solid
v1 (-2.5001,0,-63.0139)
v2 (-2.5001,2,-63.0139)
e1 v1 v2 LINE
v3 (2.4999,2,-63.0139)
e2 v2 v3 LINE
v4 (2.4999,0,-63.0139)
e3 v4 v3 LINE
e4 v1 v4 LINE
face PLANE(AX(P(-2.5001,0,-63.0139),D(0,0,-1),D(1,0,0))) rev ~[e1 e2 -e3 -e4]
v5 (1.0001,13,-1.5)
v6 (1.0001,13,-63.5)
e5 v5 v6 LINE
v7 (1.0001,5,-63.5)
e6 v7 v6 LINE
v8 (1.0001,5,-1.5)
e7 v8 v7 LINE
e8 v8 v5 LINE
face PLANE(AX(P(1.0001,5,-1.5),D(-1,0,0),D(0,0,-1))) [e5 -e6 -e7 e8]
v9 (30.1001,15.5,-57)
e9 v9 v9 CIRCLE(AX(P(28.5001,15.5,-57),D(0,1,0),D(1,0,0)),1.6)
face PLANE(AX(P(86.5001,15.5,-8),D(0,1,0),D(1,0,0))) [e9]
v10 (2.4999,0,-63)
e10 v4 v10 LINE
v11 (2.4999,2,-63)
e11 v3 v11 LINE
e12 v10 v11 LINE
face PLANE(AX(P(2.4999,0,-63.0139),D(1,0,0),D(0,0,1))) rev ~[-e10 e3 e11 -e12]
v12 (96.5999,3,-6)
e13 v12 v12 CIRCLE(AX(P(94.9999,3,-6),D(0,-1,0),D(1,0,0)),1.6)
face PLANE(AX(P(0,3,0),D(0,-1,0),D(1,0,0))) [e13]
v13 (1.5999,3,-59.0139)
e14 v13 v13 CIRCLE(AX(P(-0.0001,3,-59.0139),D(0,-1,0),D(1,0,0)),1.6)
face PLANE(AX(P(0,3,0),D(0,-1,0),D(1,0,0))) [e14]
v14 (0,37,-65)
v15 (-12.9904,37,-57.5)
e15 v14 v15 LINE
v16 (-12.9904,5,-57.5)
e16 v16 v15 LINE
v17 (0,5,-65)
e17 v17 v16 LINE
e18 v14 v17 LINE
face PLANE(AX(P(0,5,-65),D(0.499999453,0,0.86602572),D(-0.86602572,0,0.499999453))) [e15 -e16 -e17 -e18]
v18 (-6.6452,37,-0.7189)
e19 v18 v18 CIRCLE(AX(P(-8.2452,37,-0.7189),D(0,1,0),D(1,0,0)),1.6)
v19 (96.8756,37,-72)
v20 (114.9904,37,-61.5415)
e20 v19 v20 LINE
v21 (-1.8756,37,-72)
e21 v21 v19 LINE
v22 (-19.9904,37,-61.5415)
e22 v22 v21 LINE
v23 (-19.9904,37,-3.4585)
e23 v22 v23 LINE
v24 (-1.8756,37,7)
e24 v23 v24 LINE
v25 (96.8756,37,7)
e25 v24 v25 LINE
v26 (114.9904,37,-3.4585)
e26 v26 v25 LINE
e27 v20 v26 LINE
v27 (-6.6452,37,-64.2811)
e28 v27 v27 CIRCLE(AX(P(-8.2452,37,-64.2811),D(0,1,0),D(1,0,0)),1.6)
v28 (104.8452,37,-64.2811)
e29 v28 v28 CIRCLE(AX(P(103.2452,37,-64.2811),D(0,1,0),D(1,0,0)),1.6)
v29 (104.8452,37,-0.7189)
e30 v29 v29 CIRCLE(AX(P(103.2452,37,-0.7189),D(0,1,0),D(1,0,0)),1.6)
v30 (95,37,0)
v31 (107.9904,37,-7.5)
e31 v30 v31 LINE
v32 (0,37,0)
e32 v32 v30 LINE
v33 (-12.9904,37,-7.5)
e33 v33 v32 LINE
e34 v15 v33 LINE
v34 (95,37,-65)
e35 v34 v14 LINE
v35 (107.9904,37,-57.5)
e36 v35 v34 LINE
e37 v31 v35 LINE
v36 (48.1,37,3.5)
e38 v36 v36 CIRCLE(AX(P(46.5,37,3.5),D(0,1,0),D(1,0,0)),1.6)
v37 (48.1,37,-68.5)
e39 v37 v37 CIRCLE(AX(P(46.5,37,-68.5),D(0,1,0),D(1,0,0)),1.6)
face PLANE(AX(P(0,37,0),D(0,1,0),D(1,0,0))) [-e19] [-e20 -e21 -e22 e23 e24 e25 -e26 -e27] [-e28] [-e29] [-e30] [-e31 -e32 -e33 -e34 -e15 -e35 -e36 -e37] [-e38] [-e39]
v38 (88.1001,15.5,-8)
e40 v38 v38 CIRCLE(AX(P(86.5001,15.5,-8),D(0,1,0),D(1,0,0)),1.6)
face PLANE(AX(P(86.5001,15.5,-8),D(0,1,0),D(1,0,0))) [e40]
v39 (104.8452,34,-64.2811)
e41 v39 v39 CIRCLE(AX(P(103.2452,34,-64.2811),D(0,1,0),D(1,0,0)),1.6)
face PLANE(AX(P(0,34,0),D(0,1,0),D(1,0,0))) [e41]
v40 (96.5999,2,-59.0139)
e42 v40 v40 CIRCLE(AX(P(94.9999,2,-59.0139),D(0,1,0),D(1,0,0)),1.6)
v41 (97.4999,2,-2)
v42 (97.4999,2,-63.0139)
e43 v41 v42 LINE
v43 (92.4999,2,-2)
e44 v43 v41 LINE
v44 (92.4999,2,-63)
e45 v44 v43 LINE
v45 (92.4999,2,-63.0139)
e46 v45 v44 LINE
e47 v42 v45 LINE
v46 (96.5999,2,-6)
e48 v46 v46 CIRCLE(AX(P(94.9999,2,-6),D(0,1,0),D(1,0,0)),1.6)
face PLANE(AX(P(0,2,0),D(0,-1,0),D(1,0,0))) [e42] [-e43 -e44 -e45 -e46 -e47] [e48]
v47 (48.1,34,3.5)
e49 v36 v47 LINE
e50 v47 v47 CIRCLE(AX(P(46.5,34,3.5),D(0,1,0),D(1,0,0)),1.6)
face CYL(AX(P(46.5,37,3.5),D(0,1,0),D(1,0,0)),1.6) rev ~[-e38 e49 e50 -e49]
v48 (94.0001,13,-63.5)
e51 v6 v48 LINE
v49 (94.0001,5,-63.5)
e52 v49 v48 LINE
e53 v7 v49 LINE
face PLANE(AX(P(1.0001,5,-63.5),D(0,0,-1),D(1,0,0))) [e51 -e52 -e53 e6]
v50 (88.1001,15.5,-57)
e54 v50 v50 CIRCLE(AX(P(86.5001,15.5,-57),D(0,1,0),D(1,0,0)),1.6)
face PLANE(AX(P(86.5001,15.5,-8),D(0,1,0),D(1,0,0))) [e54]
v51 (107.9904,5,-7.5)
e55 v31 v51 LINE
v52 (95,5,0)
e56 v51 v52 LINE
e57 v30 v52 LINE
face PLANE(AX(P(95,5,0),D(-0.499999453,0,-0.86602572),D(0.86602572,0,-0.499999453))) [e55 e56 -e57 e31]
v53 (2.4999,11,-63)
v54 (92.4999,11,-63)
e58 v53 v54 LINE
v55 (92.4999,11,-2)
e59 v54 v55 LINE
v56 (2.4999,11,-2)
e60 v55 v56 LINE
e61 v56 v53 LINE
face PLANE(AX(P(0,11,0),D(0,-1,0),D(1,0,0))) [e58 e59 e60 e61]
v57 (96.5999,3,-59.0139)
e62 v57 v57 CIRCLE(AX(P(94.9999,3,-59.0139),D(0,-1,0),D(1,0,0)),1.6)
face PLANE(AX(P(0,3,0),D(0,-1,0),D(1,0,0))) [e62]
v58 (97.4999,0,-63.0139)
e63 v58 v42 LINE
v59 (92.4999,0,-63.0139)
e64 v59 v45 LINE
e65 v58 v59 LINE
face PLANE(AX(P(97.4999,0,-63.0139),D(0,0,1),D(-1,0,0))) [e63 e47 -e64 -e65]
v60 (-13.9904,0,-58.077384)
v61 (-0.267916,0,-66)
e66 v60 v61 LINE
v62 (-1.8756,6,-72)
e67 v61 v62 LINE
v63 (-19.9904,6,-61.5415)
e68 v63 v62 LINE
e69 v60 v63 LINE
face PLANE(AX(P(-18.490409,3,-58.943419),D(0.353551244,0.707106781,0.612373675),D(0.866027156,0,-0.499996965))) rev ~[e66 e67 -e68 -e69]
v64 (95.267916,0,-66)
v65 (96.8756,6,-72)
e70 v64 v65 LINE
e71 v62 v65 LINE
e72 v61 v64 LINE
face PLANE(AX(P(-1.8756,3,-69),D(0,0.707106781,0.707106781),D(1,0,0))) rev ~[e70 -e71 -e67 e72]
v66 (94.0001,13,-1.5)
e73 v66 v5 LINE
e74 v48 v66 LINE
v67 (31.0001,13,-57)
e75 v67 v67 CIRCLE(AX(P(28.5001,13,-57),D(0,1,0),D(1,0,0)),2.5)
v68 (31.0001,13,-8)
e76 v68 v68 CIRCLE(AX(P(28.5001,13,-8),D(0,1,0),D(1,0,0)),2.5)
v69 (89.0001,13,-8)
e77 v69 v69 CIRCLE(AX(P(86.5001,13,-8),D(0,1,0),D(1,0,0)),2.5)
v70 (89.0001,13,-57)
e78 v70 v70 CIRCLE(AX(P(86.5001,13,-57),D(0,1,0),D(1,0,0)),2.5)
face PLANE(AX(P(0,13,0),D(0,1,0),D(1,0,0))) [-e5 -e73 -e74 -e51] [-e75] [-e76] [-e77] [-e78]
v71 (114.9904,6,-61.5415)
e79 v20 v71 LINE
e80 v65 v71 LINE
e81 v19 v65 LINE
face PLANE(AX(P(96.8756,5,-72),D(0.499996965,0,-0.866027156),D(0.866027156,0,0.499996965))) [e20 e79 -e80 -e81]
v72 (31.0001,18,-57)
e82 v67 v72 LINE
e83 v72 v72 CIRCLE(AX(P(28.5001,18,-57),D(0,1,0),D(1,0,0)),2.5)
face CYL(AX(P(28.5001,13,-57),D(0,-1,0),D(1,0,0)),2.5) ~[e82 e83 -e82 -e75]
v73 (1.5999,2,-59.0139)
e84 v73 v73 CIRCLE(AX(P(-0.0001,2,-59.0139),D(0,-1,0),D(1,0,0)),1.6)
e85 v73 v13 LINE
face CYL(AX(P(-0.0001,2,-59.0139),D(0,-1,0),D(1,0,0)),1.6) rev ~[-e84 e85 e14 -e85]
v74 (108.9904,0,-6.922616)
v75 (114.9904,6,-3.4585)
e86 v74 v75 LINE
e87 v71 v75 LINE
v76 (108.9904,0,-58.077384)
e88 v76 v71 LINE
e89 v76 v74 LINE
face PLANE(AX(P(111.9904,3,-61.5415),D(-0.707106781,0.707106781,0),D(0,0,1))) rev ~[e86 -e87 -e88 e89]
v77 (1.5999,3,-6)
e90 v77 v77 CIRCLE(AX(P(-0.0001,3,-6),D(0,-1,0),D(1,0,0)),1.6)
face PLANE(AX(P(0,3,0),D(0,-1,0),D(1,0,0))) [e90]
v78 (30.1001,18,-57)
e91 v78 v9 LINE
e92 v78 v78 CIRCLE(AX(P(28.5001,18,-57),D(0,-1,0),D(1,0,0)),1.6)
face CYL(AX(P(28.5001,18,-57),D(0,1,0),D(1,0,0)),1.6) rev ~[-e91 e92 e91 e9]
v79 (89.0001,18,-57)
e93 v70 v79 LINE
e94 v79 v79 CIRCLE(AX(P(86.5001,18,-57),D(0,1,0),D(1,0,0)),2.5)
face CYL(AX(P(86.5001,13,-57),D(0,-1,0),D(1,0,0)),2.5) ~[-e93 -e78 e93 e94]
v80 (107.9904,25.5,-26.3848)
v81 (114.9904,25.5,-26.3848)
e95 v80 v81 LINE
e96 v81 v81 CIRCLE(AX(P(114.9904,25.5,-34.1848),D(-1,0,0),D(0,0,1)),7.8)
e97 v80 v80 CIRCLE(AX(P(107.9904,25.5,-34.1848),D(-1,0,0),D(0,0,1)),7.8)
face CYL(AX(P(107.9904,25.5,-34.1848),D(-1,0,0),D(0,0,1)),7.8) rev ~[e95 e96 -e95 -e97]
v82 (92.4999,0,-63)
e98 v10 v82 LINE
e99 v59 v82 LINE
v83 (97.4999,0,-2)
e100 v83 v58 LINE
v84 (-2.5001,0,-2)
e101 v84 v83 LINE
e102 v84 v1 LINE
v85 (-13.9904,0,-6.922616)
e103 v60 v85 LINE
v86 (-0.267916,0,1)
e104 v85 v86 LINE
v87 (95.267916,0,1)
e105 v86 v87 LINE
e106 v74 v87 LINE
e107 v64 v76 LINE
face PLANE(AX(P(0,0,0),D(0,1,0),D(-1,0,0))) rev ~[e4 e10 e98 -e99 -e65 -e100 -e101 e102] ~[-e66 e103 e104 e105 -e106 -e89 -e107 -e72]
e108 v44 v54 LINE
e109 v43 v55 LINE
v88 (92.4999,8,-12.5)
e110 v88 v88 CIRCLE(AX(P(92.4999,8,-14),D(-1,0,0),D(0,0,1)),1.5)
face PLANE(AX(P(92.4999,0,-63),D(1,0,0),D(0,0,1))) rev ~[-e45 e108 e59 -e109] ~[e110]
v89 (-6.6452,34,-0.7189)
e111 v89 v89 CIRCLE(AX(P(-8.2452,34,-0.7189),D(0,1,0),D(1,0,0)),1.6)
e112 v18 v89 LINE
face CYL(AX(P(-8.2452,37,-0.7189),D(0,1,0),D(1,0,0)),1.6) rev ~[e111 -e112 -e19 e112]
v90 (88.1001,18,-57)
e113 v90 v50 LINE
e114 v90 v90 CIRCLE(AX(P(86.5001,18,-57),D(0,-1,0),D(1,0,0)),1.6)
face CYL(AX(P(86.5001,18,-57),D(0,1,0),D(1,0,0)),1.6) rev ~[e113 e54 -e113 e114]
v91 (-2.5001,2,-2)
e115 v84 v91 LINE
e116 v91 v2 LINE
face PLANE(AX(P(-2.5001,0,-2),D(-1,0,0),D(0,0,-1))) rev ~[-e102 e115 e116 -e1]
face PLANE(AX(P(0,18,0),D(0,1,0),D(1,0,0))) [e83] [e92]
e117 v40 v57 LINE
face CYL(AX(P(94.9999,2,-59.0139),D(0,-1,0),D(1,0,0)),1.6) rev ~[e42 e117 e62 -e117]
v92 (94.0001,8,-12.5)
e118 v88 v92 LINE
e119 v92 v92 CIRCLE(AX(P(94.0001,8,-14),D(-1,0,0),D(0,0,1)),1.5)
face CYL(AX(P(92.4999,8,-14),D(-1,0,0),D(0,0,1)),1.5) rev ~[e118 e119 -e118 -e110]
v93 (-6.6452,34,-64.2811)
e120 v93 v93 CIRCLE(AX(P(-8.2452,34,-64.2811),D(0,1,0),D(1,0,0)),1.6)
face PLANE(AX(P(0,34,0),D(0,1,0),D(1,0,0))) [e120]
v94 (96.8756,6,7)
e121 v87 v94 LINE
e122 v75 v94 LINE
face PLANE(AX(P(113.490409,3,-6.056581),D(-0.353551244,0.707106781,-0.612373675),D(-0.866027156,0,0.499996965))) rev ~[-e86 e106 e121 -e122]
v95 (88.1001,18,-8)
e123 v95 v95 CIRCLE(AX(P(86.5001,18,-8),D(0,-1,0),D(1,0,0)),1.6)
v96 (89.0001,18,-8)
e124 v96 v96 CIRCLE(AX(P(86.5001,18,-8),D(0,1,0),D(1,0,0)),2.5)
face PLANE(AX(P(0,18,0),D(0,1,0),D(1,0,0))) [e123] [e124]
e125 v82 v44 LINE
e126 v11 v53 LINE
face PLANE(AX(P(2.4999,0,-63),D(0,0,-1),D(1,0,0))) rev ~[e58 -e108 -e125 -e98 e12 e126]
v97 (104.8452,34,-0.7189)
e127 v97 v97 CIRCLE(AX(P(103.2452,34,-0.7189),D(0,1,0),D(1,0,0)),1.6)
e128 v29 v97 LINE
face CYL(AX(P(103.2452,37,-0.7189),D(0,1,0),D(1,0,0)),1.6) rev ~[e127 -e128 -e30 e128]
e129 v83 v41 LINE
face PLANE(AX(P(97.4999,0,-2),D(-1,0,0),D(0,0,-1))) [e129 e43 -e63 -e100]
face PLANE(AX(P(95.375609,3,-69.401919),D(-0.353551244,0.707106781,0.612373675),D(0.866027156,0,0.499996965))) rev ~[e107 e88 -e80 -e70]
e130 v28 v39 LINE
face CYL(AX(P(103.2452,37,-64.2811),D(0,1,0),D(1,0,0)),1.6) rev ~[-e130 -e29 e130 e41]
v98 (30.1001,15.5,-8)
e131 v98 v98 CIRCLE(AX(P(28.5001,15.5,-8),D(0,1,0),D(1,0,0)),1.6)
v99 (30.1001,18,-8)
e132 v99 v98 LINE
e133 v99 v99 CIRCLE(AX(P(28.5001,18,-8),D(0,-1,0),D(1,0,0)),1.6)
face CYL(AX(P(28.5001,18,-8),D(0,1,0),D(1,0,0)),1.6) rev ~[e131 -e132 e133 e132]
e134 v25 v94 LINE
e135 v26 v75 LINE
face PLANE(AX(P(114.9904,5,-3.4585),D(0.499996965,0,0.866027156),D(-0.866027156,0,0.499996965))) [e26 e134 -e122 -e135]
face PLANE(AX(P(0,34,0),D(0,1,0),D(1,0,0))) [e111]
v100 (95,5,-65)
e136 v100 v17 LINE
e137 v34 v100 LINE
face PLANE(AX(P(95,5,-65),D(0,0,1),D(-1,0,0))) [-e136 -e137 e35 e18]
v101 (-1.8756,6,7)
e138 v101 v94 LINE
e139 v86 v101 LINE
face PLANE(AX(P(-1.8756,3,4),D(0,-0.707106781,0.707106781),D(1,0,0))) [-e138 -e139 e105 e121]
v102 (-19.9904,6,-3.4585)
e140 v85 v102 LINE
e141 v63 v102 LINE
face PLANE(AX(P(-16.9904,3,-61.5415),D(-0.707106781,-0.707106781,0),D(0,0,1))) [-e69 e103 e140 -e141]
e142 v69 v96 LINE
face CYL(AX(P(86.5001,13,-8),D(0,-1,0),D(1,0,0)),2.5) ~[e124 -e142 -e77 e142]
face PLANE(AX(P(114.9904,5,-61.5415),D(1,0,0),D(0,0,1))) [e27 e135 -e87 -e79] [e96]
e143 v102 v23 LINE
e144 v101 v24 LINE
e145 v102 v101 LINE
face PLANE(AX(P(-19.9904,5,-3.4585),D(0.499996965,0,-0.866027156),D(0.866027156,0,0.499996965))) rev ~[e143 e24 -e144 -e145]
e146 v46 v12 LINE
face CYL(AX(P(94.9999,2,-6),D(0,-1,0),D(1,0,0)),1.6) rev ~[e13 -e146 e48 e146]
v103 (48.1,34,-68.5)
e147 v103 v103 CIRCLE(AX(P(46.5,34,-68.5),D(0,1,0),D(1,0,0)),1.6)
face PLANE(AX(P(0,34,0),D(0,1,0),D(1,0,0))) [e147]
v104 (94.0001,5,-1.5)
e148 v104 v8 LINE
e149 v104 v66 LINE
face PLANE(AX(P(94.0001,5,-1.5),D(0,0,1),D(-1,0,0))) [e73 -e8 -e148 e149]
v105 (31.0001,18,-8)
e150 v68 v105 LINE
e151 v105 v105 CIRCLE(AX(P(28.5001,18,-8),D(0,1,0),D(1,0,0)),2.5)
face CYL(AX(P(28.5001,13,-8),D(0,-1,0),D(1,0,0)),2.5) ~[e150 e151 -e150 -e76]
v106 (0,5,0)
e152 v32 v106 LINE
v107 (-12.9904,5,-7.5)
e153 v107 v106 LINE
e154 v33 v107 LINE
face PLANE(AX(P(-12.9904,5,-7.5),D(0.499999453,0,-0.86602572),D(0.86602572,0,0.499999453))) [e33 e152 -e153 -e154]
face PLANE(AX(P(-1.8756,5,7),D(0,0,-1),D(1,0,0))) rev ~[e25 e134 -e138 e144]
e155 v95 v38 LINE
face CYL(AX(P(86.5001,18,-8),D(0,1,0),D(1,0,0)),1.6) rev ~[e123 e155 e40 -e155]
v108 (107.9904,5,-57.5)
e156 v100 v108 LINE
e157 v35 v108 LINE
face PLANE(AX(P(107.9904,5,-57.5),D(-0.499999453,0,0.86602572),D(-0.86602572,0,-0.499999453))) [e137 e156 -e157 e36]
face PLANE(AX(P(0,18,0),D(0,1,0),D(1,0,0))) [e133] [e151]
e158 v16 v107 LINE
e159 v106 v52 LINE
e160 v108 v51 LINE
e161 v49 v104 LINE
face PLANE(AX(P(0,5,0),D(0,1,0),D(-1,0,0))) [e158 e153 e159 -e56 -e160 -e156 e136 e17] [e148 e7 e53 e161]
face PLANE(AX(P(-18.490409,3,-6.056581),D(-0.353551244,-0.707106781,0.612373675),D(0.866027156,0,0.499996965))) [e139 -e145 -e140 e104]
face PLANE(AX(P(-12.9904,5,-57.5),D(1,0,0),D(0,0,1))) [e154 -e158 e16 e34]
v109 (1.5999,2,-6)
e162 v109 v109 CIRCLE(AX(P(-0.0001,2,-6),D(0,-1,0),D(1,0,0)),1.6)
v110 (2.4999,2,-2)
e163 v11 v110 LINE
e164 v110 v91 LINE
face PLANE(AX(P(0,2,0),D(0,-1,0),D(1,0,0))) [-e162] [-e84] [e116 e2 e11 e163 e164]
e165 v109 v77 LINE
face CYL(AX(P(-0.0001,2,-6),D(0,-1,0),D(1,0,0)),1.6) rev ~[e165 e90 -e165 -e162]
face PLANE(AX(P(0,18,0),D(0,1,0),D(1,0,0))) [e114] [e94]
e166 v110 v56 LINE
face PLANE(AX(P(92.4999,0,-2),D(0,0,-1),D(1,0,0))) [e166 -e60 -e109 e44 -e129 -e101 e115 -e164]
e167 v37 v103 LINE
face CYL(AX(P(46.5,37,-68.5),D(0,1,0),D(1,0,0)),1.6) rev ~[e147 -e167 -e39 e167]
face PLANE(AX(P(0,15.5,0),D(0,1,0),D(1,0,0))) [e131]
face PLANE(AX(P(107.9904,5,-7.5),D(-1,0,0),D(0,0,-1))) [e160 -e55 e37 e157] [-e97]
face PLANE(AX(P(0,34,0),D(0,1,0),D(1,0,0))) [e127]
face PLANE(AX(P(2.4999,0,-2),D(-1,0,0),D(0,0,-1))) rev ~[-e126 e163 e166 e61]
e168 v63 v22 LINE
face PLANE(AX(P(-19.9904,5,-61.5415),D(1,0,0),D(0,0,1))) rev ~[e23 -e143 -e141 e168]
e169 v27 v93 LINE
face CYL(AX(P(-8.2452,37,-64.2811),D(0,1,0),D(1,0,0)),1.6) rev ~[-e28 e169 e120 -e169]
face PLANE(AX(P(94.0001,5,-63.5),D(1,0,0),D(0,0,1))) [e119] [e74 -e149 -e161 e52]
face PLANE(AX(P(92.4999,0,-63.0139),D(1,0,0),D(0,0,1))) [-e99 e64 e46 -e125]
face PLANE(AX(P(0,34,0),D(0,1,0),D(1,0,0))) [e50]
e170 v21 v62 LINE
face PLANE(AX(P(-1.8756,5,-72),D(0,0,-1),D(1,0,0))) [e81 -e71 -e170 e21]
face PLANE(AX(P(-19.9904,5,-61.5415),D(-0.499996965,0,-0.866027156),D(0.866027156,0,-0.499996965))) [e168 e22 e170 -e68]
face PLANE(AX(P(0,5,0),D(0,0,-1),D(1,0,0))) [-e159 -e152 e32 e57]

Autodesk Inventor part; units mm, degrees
ref_plane "YZ Plane" through (0, 0, 0) normal (1, 0, 0) x (0, 1, 0)
ref_plane "XZ Plane" through (0, 0, 0) normal (0, 1, 0) x (-1, 0, 0)
sketch "Sketch1" plane through (0, 0, 0) normal (0, 1, 0) x (-1, 0, 0)
  line L0 (0, 0) -> (-95, 0)
  line L1 (-95, 0) -> (-95, -65)
  line L2 (-95, -65) -> (0, -65)
  line L3 (0, -65) -> (0, 0)
  line L4 (0, -65) -> (12.9904, -57.5)
  line L5 (12.9904, -57.5) -> (12.9904, -7.5)
  line L6 (12.9904, -7.5) -> (0, 0)
  line L7 (-95, -65) -> (-107.9904, -57.5)
  line L8 (-107.9904, -57.5) -> (-107.9904, -7.5)
  line L9 (-107.9904, -7.5) -> (-95, 0)
  dimension "d0" = 95
  dimension "d1" = 65
  dimension "d2" = 15
  dimension "d3" = 15
  dimension "d4" = 120
  dimension "d5" = 15
  dimension "d6" = 15
  dimension "d7" = 120
extrude "Extrusion1" add sketch "Sketch1" along normal blind 5
sketch "Sketch2" plane through (0, 5, 0) normal (0, 1, 0) x (1, 0, 0)
  line L0 (1.0001, 63.5) -> (94.0001, 63.5)
  line L1 (94.0001, 63.5) -> (94.0001, 1.5)
  line L2 (94.0001, 1.5) -> (1.0001, 1.5)
  line L3 (1.0001, 1.5) -> (1.0001, 63.5)
  line L4 (0, 0) -> (95, 0) projected
  line L5 (-12.9904, 57.5) -> (-12.9904, 7.5) projected
  dimension "d10" = 93
  dimension "d11" = 62
  dimension "d12" = 1.5
  dimension "d13" = 13.9905
extrude "Extrusion2" add sketch "Sketch2" along normal blind 8
sketch "Sketch4" plane through (0, 5, 0) normal (0, 1, 0) x (1, 0, 0)
  line L0 (-12.9904, 57.5) -> (-12.9904, 7.5) projected
  line L1 (-12.9904, 57.5) -> (-12.9904, 7.5)
  line L2 (-12.9904, 7.5) -> (0, 0)
  line L3 (0, 0) -> (95, 0)
  line L4 (95, 0) -> (107.9904, 7.5) projected
  line L5 (95, 0) -> (107.9904, 7.5)
  line L6 (107.9904, 7.5) -> (107.9904, 57.5)
  line L7 (107.9904, 57.5) -> (95, 65) projected
  line L8 (107.9904, 57.5) -> (95, 65)
  line L9 (95, 65) -> (0, 65) projected
  line L10 (95, 65) -> (0, 65)
  line L11 (0, 65) -> (-12.9904, 57.5)
  line L12 (-19.9904, 61.5415) -> (-19.9904, 3.4585)
  line L13 (114.9904, 61.5415) -> (114.9904, 3.4585)
  line L14 (-1.8756, 72) -> (96.8756, 72)
  line L15 (-19.9904, 61.5415) -> (-1.8756, 72)
  line L16 (96.8756, 72) -> (114.9904, 61.5415)
  line L17 (114.9904, 3.4585) -> (96.8756, -7)
  line L18 (-19.9904, 3.4585) -> (-1.8756, -7)
  line L19 (-1.8756, -7) -> (96.8756, -7)
  line L20 (95, 0) -> (107.9904, 7.5) projected
  line L21 (107.9904, 7.5) -> (107.9904, 57.5) projected
  line L22 (0, 0) -> (95, 0) projected
  dimension "d22" = 7
  dimension "d23" = 7
  dimension "d24" = 7
  dimension "d25" = 7
  dimension "d26" = 7
  dimension "d27" = 7
  dimension "d28" = 7
  dimension "d29" = 7
extrude "Extrusion4" add sketch "Sketch4" along normal blind 32 and the other way blind 5
sketch "Sketch5" plane through (0, 0, 0) normal (0, -1, 0) x (1, 0, 0)
  line L0 (2.4999, -63) -> (92.4999, -63)
  line L1 (92.4999, -63) -> (92.4999, -2)
  line L2 (92.4999, -2) -> (2.4999, -2)
  line L3 (2.4999, -2) -> (2.4999, -63)
  line L4 (0, 0) -> (95, 0) projected
  line L5 (-12.9904, -57.5) -> (-12.9904, -7.5) projected
  line L6 (96.8756, 7) -> (-1.8756, 7) projected
  line L7 (114.9904, -61.5415) -> (114.9904, -3.4585) projected
  line L8 (-1.8756, -72) -> (96.8756, -72) projected
  dimension "d34" = 61
  dimension "d35" = 90
  dimension "d44" = 22.4905
  dimension "d128" = 9
extrude "Extrusion5" cut sketch "Sketch5" against normal blind 11
chamfer "Chamfer1" distance 6 angle 45 8 edges at (47.5, 0, -72) (105.933, 0, -66.7707) (114.9904, 0, -32.5) (105.933, 0, 1.7707) (47.5, 0, 7) (-10.933, 0, 1.7707) (-19.9904, 0, -32.5) (-10.933, 0, -66.7707)
sketch "Sketch6" plane through (0, 0, 0) normal (0, -1, 0) x (1, 0, 0)
  line L0 (2.4999, -2) -> (-2.5001, -2)
  line L1 (-2.5001, -2) -> (-2.5001, -63.0139)
  line L2 (-2.5001, -63.0139) -> (2.4999, -63.0139)
  line L3 (2.4999, -63.0139) -> (2.4999, -2)
  line L4 (2.4999, -2) -> (92.4999, -2) projected
  line L5 (92.4999, -2) -> (97.4999, -2)
  line L6 (97.4999, -2) -> (97.4999, -63.0139)
  line L7 (97.4999, -63.0139) -> (92.4999, -63.0139)
  line L8 (92.4999, -63.0139) -> (92.4999, -2)
  point P0 (0, 0)
  dimension "d45" = 5
  dimension "d46" = 5
extrude "Extrusion6" cut sketch "Sketch6" against normal blind 2
sketch "Sketch7" plane through (0, 2, 0) normal (0, -1, 0) x (1, 0, 0)
  circle A0 centre (-0.0001, -6) radius 1.6
  circle A1 centre (94.9999, -6) radius 1.6
  circle A2 centre (-0.0001, -59.0139) radius 1.6
  circle A3 centre (94.9999, -59.0139) radius 1.6
  line L0 (94.0001, -63.5) -> (94.0001, -1.5) projected
  line L1 (2.4999, -2) -> (2.4999, -63) projected
  line L2 (97.4999, -2) -> (97.4999, -63.0139) projected
  line L3 (-2.5001, -2) -> (97.4999, -2) projected
  line L4 (-2.5001, -63.0139) -> (-2.5001, -2) projected
  line L5 (2.4999, -63.0139) -> (-2.5001, -63.0139) projected
  line L6 (92.4999, -63) -> (92.4999, -2) projected
  line L7 (97.4999, -63.0139) -> (92.4999, -63.0139) projected
  point P0 (0, 0)
  dimension "d49" = 3.2
  dimension "d50" = 2.5
  dimension "d51" = 2.5
  dimension "d52" = 4
  dimension "d53" = 0
  dimension "d54" = 2.5
  dimension "d55" = 4
  dimension "d56" = 2.5
  dimension "d57" = 4
extrude "Extrusion7" cut sketch "Sketch7" against normal blind 1 contours A0 | A1 L0 | L0 A1 | L0 A3 | A3 L0 | A2
sketch "Sketch8" plane through (0, 13, 0) normal (0, 1, 0) x (1, 0, 0)
  line L0 (5.0001, 60.5) -> (90.0001, 60.5)
  line L1 (90.0001, 60.5) -> (90.0001, 4.5)
  line L2 (90.0001, 4.5) -> (5.0001, 4.5)
  line L3 (5.0001, 4.5) -> (5.0001, 60.5)
  line L4 (96.8756, 72) -> (-1.8756, 72) projected
  line L5 (-19.9904, 61.5415) -> (-19.9904, 3.4585) projected
  circle A0 centre (28.5001, 57) radius 2.5
  circle A1 centre (28.5001, 8) radius 2.5
  circle A2 centre (86.5001, 57) radius 2.5
  circle A3 centre (86.5001, 8) radius 2.5
  circle A4 centre (28.5001, 8) radius 1.6
  circle A5 centre (86.5001, 8) radius 1.6
  circle A6 centre (86.5001, 57) radius 1.6
  circle A7 centre (28.5001, 57) radius 1.6
  circle A8 centre (28.5001, 57) radius 2.5
  point P0 (0, 0)
  dimension "d60" = 85
  dimension "d61" = 56
  dimension "d62" = 11.5
  dimension "d63" = 24.9905
  dimension "d65" = 3.5
  dimension "d66" = 5
  dimension "d68" = 3.5
  dimension "d69" = 3.5
  dimension "d70" = 3.5
  dimension "d71" = 58
  dimension "d72" = 58
  dimension "d75" = 3.5
  dimension "d76" = 3.5
  dimension "d100" = 3.2
  dimension "d101" = 3.2
  dimension "d102" = 3.2
  dimension "d103" = 3.2
extrude "Extrusion8" add sketch "Sketch8" along normal blind 5 contours A0 | A1 | A2 | A3 | A4 | A5 | A6 | A7
sketch "Sketch9" plane through (92.4999, 11, -63) normal (-1, 0, 0) x (0, 0, 1)
  circle A0 centre (49, -3) radius 1.5
  line L0 (61, 0) -> (0, 0) projected
  line L1 (61, -9) -> (61, 0) projected
  point P0 (63, -11)
  dimension "d77" = 3
  dimension "d78" = 3
  dimension "d79" = 12
extrude "Extrusion9" cut sketch "Sketch9" against normal blind 5
sketch "Sketch10" plane through (0, 37, 0) normal (0, 1, 0) x (1, 0, 0)
  line L0 (-12.9904, 7.5) -> (-12.9904, 57.5) projected
  line L1 (-12.9904, 7.5) -> (-16.4904, 1.4378)
  line L2 (-1.8756, -7) -> (-19.9904, 3.4585) projected
  line L3 (0, 0) -> (95, 0) projected
  line L4 (0, 0) -> (-3.486, -6.038)
  line L5 (-12.9904, 57.5) -> (0, 65) projected
  line L6 (-12.9904, 57.5) -> (-16.4904, 63.5622)
  line L7 (-1.8756, 72) -> (-19.9904, 61.5415) projected
  line L8 (0, 65) -> (-3.5, 71.0622)
  line L9 (0, 65) -> (95, 65) projected
  line L10 (95, 65) -> (98.5, 71.0622)
  line L11 (114.9904, 61.5415) -> (96.8756, 72) projected
  line L12 (107.9904, 57.5) -> (95, 65) projected
  line L13 (107.9904, 57.5) -> (111.4904, 63.5622)
  line L14 (95, 0) -> (107.9904, 7.5) projected
  line L15 (107.9904, 7.5) -> (111.4904, 1.4378)
  line L16 (95, 0) -> (98.5, -6.0622)
  line L17 (96.8756, -7) -> (114.9904, 3.4585) projected
  circle A0 centre (103.2452, 0.7189) radius 1.6
  circle A1 centre (103.2452, 64.2811) radius 1.6
  circle A2 centre (-8.2452, 64.2811) radius 1.6
  circle A3 centre (-8.2452, 0.7189) radius 1.6
  circle A4 centre (46.5, -3.5) radius 1.6
  circle A5 centre (46.5, 68.5) radius 1.6
  line L18 (0, 0) -> (-12.9904, 7.5) projected
  line L19 (-12.9904, 7.5) -> (0, 0) projected
  line L20 (0, 0) -> (0, -7)
  line L21 (-1.8756, -7) -> (96.8756, -7) projected
  line L22 (0, 65) -> (0, 72)
  dimension "d82" = 3.2
  dimension "d83" = 7.5
  dimension "d84" = 90
  dimension "d85" = 3.5
  dimension "d86" = 90
  dimension "d87" = 7.5
  dimension "d88" = 3.5
  dimension "d89" = 7.5
  dimension "d90" = 3.5
  dimension "d91" = 7.5
  dimension "d92" = 3.5
  dimension "d93" = 46.5
  dimension "d95" = 46.5
  dimension "d96" = 3.5
  dimension "d97" = 3.5
extrude "Extrusion10" cut sketch "Sketch10" against normal blind 3 contours A0 | A1 | A2 | A3 | A4 | A5
ref_plane "Work Plane2" through (0, 18, 0) normal (0, 1, 0) x (1, 0, 0)
sketch "Sketch14" plane through (0, 18, 0) normal (0, 1, 0) x (1, 0, 0)
  circle A0 centre (28.5001, 8) radius 1.6
  circle A1 centre (28.5001, 8) radius 2.5 projected
  line L0 (28.5001, 8) -> (86.5001, 8)
  line L1 (86.5001, 8) -> (86.5001, 64)
  line L2 (86.5001, 64) -> (28.5001, 64)
  line L3 (28.5001, 64) -> (28.5001, 8)
  point P0 (0, 0)
  dimension "d108" = 3.2
  dimension "d109" = 0
  dimension "d110" = 0
  dimension "d117" = 56
  dimension "d118" = 58
extrude "Extrusion11" cut sketch "Sketch14" against normal blind 2.5 contours L0 L3 A0 | A0 L3 L0
sketch "Sketch15" plane through (86.5001, 18, -8) normal (0, 1, 0) x (1, 0, 0)
  circle A0 centre (0, 0) radius 1.6
  circle A1 centre (0, 49) radius 1.6
  circle A2 centre (0, 49) radius 2.5
  circle A3 centre (-58, 0) radius 1.6 projected
  line L0 (-58, 0) -> (0, 0)
  line L1 (0, 0) -> (0, 49)
  line L2 (0, 49) -> (-58, 49)
  line L3 (-58, 49) -> (-58, 0)
  circle A4 centre (-58, 49) radius 1.6
  point P0 (-86.5001, -8)
  dimension "d113" = 3.2
  dimension "d114" = 3.2
  dimension "d115" = 5
  dimension "d116" = 0
  dimension "d119" = 49
  dimension "d120" = 58
  dimension "d121" = 3.2
extrude "Extrusion12" cut sketch "Sketch15" against normal blind 2.5 contours A0 L0 L1 | L1 L0 A0 | L1 L2 A1 | A1 L2 L1 | A4 L3 L2 | L2 L3 A4
sketch "Sketch16" plane through (107.9904, 5, -57.5) normal (-1, 0, 0) x (0, 0, 1)
  circle A0 centre (23.3152, 20.5) radius 7.8
  line L0 (0, 32) -> (50, 32) projected
  line L1 (0, 32) -> (50, 32)
  line L2 (57.5, 0) -> (50, 0) projected
  line L3 (50, 32) -> (50, 0)
  line L4 (50, 0) -> (0, 0)
  line L5 (0, 0) -> (0, 32) projected
  line L6 (0, 0) -> (0, 32)
  line L7 (-52.9421, -1.2141) -> (6.8536, -5)
  line L8 (6.8536, -5) -> (-57.6878, -5)
  line L9 (-57.6878, -5) -> (10.0174, -1.2141)
  point P0 (57.5, -5)
  dimension "d124" = 15.6
  dimension "d125" = 11.5
extrude "Extrusion13" cut sketch "Sketch16" against normal blind 10 contours A0
properties part number "Bottomv5"
